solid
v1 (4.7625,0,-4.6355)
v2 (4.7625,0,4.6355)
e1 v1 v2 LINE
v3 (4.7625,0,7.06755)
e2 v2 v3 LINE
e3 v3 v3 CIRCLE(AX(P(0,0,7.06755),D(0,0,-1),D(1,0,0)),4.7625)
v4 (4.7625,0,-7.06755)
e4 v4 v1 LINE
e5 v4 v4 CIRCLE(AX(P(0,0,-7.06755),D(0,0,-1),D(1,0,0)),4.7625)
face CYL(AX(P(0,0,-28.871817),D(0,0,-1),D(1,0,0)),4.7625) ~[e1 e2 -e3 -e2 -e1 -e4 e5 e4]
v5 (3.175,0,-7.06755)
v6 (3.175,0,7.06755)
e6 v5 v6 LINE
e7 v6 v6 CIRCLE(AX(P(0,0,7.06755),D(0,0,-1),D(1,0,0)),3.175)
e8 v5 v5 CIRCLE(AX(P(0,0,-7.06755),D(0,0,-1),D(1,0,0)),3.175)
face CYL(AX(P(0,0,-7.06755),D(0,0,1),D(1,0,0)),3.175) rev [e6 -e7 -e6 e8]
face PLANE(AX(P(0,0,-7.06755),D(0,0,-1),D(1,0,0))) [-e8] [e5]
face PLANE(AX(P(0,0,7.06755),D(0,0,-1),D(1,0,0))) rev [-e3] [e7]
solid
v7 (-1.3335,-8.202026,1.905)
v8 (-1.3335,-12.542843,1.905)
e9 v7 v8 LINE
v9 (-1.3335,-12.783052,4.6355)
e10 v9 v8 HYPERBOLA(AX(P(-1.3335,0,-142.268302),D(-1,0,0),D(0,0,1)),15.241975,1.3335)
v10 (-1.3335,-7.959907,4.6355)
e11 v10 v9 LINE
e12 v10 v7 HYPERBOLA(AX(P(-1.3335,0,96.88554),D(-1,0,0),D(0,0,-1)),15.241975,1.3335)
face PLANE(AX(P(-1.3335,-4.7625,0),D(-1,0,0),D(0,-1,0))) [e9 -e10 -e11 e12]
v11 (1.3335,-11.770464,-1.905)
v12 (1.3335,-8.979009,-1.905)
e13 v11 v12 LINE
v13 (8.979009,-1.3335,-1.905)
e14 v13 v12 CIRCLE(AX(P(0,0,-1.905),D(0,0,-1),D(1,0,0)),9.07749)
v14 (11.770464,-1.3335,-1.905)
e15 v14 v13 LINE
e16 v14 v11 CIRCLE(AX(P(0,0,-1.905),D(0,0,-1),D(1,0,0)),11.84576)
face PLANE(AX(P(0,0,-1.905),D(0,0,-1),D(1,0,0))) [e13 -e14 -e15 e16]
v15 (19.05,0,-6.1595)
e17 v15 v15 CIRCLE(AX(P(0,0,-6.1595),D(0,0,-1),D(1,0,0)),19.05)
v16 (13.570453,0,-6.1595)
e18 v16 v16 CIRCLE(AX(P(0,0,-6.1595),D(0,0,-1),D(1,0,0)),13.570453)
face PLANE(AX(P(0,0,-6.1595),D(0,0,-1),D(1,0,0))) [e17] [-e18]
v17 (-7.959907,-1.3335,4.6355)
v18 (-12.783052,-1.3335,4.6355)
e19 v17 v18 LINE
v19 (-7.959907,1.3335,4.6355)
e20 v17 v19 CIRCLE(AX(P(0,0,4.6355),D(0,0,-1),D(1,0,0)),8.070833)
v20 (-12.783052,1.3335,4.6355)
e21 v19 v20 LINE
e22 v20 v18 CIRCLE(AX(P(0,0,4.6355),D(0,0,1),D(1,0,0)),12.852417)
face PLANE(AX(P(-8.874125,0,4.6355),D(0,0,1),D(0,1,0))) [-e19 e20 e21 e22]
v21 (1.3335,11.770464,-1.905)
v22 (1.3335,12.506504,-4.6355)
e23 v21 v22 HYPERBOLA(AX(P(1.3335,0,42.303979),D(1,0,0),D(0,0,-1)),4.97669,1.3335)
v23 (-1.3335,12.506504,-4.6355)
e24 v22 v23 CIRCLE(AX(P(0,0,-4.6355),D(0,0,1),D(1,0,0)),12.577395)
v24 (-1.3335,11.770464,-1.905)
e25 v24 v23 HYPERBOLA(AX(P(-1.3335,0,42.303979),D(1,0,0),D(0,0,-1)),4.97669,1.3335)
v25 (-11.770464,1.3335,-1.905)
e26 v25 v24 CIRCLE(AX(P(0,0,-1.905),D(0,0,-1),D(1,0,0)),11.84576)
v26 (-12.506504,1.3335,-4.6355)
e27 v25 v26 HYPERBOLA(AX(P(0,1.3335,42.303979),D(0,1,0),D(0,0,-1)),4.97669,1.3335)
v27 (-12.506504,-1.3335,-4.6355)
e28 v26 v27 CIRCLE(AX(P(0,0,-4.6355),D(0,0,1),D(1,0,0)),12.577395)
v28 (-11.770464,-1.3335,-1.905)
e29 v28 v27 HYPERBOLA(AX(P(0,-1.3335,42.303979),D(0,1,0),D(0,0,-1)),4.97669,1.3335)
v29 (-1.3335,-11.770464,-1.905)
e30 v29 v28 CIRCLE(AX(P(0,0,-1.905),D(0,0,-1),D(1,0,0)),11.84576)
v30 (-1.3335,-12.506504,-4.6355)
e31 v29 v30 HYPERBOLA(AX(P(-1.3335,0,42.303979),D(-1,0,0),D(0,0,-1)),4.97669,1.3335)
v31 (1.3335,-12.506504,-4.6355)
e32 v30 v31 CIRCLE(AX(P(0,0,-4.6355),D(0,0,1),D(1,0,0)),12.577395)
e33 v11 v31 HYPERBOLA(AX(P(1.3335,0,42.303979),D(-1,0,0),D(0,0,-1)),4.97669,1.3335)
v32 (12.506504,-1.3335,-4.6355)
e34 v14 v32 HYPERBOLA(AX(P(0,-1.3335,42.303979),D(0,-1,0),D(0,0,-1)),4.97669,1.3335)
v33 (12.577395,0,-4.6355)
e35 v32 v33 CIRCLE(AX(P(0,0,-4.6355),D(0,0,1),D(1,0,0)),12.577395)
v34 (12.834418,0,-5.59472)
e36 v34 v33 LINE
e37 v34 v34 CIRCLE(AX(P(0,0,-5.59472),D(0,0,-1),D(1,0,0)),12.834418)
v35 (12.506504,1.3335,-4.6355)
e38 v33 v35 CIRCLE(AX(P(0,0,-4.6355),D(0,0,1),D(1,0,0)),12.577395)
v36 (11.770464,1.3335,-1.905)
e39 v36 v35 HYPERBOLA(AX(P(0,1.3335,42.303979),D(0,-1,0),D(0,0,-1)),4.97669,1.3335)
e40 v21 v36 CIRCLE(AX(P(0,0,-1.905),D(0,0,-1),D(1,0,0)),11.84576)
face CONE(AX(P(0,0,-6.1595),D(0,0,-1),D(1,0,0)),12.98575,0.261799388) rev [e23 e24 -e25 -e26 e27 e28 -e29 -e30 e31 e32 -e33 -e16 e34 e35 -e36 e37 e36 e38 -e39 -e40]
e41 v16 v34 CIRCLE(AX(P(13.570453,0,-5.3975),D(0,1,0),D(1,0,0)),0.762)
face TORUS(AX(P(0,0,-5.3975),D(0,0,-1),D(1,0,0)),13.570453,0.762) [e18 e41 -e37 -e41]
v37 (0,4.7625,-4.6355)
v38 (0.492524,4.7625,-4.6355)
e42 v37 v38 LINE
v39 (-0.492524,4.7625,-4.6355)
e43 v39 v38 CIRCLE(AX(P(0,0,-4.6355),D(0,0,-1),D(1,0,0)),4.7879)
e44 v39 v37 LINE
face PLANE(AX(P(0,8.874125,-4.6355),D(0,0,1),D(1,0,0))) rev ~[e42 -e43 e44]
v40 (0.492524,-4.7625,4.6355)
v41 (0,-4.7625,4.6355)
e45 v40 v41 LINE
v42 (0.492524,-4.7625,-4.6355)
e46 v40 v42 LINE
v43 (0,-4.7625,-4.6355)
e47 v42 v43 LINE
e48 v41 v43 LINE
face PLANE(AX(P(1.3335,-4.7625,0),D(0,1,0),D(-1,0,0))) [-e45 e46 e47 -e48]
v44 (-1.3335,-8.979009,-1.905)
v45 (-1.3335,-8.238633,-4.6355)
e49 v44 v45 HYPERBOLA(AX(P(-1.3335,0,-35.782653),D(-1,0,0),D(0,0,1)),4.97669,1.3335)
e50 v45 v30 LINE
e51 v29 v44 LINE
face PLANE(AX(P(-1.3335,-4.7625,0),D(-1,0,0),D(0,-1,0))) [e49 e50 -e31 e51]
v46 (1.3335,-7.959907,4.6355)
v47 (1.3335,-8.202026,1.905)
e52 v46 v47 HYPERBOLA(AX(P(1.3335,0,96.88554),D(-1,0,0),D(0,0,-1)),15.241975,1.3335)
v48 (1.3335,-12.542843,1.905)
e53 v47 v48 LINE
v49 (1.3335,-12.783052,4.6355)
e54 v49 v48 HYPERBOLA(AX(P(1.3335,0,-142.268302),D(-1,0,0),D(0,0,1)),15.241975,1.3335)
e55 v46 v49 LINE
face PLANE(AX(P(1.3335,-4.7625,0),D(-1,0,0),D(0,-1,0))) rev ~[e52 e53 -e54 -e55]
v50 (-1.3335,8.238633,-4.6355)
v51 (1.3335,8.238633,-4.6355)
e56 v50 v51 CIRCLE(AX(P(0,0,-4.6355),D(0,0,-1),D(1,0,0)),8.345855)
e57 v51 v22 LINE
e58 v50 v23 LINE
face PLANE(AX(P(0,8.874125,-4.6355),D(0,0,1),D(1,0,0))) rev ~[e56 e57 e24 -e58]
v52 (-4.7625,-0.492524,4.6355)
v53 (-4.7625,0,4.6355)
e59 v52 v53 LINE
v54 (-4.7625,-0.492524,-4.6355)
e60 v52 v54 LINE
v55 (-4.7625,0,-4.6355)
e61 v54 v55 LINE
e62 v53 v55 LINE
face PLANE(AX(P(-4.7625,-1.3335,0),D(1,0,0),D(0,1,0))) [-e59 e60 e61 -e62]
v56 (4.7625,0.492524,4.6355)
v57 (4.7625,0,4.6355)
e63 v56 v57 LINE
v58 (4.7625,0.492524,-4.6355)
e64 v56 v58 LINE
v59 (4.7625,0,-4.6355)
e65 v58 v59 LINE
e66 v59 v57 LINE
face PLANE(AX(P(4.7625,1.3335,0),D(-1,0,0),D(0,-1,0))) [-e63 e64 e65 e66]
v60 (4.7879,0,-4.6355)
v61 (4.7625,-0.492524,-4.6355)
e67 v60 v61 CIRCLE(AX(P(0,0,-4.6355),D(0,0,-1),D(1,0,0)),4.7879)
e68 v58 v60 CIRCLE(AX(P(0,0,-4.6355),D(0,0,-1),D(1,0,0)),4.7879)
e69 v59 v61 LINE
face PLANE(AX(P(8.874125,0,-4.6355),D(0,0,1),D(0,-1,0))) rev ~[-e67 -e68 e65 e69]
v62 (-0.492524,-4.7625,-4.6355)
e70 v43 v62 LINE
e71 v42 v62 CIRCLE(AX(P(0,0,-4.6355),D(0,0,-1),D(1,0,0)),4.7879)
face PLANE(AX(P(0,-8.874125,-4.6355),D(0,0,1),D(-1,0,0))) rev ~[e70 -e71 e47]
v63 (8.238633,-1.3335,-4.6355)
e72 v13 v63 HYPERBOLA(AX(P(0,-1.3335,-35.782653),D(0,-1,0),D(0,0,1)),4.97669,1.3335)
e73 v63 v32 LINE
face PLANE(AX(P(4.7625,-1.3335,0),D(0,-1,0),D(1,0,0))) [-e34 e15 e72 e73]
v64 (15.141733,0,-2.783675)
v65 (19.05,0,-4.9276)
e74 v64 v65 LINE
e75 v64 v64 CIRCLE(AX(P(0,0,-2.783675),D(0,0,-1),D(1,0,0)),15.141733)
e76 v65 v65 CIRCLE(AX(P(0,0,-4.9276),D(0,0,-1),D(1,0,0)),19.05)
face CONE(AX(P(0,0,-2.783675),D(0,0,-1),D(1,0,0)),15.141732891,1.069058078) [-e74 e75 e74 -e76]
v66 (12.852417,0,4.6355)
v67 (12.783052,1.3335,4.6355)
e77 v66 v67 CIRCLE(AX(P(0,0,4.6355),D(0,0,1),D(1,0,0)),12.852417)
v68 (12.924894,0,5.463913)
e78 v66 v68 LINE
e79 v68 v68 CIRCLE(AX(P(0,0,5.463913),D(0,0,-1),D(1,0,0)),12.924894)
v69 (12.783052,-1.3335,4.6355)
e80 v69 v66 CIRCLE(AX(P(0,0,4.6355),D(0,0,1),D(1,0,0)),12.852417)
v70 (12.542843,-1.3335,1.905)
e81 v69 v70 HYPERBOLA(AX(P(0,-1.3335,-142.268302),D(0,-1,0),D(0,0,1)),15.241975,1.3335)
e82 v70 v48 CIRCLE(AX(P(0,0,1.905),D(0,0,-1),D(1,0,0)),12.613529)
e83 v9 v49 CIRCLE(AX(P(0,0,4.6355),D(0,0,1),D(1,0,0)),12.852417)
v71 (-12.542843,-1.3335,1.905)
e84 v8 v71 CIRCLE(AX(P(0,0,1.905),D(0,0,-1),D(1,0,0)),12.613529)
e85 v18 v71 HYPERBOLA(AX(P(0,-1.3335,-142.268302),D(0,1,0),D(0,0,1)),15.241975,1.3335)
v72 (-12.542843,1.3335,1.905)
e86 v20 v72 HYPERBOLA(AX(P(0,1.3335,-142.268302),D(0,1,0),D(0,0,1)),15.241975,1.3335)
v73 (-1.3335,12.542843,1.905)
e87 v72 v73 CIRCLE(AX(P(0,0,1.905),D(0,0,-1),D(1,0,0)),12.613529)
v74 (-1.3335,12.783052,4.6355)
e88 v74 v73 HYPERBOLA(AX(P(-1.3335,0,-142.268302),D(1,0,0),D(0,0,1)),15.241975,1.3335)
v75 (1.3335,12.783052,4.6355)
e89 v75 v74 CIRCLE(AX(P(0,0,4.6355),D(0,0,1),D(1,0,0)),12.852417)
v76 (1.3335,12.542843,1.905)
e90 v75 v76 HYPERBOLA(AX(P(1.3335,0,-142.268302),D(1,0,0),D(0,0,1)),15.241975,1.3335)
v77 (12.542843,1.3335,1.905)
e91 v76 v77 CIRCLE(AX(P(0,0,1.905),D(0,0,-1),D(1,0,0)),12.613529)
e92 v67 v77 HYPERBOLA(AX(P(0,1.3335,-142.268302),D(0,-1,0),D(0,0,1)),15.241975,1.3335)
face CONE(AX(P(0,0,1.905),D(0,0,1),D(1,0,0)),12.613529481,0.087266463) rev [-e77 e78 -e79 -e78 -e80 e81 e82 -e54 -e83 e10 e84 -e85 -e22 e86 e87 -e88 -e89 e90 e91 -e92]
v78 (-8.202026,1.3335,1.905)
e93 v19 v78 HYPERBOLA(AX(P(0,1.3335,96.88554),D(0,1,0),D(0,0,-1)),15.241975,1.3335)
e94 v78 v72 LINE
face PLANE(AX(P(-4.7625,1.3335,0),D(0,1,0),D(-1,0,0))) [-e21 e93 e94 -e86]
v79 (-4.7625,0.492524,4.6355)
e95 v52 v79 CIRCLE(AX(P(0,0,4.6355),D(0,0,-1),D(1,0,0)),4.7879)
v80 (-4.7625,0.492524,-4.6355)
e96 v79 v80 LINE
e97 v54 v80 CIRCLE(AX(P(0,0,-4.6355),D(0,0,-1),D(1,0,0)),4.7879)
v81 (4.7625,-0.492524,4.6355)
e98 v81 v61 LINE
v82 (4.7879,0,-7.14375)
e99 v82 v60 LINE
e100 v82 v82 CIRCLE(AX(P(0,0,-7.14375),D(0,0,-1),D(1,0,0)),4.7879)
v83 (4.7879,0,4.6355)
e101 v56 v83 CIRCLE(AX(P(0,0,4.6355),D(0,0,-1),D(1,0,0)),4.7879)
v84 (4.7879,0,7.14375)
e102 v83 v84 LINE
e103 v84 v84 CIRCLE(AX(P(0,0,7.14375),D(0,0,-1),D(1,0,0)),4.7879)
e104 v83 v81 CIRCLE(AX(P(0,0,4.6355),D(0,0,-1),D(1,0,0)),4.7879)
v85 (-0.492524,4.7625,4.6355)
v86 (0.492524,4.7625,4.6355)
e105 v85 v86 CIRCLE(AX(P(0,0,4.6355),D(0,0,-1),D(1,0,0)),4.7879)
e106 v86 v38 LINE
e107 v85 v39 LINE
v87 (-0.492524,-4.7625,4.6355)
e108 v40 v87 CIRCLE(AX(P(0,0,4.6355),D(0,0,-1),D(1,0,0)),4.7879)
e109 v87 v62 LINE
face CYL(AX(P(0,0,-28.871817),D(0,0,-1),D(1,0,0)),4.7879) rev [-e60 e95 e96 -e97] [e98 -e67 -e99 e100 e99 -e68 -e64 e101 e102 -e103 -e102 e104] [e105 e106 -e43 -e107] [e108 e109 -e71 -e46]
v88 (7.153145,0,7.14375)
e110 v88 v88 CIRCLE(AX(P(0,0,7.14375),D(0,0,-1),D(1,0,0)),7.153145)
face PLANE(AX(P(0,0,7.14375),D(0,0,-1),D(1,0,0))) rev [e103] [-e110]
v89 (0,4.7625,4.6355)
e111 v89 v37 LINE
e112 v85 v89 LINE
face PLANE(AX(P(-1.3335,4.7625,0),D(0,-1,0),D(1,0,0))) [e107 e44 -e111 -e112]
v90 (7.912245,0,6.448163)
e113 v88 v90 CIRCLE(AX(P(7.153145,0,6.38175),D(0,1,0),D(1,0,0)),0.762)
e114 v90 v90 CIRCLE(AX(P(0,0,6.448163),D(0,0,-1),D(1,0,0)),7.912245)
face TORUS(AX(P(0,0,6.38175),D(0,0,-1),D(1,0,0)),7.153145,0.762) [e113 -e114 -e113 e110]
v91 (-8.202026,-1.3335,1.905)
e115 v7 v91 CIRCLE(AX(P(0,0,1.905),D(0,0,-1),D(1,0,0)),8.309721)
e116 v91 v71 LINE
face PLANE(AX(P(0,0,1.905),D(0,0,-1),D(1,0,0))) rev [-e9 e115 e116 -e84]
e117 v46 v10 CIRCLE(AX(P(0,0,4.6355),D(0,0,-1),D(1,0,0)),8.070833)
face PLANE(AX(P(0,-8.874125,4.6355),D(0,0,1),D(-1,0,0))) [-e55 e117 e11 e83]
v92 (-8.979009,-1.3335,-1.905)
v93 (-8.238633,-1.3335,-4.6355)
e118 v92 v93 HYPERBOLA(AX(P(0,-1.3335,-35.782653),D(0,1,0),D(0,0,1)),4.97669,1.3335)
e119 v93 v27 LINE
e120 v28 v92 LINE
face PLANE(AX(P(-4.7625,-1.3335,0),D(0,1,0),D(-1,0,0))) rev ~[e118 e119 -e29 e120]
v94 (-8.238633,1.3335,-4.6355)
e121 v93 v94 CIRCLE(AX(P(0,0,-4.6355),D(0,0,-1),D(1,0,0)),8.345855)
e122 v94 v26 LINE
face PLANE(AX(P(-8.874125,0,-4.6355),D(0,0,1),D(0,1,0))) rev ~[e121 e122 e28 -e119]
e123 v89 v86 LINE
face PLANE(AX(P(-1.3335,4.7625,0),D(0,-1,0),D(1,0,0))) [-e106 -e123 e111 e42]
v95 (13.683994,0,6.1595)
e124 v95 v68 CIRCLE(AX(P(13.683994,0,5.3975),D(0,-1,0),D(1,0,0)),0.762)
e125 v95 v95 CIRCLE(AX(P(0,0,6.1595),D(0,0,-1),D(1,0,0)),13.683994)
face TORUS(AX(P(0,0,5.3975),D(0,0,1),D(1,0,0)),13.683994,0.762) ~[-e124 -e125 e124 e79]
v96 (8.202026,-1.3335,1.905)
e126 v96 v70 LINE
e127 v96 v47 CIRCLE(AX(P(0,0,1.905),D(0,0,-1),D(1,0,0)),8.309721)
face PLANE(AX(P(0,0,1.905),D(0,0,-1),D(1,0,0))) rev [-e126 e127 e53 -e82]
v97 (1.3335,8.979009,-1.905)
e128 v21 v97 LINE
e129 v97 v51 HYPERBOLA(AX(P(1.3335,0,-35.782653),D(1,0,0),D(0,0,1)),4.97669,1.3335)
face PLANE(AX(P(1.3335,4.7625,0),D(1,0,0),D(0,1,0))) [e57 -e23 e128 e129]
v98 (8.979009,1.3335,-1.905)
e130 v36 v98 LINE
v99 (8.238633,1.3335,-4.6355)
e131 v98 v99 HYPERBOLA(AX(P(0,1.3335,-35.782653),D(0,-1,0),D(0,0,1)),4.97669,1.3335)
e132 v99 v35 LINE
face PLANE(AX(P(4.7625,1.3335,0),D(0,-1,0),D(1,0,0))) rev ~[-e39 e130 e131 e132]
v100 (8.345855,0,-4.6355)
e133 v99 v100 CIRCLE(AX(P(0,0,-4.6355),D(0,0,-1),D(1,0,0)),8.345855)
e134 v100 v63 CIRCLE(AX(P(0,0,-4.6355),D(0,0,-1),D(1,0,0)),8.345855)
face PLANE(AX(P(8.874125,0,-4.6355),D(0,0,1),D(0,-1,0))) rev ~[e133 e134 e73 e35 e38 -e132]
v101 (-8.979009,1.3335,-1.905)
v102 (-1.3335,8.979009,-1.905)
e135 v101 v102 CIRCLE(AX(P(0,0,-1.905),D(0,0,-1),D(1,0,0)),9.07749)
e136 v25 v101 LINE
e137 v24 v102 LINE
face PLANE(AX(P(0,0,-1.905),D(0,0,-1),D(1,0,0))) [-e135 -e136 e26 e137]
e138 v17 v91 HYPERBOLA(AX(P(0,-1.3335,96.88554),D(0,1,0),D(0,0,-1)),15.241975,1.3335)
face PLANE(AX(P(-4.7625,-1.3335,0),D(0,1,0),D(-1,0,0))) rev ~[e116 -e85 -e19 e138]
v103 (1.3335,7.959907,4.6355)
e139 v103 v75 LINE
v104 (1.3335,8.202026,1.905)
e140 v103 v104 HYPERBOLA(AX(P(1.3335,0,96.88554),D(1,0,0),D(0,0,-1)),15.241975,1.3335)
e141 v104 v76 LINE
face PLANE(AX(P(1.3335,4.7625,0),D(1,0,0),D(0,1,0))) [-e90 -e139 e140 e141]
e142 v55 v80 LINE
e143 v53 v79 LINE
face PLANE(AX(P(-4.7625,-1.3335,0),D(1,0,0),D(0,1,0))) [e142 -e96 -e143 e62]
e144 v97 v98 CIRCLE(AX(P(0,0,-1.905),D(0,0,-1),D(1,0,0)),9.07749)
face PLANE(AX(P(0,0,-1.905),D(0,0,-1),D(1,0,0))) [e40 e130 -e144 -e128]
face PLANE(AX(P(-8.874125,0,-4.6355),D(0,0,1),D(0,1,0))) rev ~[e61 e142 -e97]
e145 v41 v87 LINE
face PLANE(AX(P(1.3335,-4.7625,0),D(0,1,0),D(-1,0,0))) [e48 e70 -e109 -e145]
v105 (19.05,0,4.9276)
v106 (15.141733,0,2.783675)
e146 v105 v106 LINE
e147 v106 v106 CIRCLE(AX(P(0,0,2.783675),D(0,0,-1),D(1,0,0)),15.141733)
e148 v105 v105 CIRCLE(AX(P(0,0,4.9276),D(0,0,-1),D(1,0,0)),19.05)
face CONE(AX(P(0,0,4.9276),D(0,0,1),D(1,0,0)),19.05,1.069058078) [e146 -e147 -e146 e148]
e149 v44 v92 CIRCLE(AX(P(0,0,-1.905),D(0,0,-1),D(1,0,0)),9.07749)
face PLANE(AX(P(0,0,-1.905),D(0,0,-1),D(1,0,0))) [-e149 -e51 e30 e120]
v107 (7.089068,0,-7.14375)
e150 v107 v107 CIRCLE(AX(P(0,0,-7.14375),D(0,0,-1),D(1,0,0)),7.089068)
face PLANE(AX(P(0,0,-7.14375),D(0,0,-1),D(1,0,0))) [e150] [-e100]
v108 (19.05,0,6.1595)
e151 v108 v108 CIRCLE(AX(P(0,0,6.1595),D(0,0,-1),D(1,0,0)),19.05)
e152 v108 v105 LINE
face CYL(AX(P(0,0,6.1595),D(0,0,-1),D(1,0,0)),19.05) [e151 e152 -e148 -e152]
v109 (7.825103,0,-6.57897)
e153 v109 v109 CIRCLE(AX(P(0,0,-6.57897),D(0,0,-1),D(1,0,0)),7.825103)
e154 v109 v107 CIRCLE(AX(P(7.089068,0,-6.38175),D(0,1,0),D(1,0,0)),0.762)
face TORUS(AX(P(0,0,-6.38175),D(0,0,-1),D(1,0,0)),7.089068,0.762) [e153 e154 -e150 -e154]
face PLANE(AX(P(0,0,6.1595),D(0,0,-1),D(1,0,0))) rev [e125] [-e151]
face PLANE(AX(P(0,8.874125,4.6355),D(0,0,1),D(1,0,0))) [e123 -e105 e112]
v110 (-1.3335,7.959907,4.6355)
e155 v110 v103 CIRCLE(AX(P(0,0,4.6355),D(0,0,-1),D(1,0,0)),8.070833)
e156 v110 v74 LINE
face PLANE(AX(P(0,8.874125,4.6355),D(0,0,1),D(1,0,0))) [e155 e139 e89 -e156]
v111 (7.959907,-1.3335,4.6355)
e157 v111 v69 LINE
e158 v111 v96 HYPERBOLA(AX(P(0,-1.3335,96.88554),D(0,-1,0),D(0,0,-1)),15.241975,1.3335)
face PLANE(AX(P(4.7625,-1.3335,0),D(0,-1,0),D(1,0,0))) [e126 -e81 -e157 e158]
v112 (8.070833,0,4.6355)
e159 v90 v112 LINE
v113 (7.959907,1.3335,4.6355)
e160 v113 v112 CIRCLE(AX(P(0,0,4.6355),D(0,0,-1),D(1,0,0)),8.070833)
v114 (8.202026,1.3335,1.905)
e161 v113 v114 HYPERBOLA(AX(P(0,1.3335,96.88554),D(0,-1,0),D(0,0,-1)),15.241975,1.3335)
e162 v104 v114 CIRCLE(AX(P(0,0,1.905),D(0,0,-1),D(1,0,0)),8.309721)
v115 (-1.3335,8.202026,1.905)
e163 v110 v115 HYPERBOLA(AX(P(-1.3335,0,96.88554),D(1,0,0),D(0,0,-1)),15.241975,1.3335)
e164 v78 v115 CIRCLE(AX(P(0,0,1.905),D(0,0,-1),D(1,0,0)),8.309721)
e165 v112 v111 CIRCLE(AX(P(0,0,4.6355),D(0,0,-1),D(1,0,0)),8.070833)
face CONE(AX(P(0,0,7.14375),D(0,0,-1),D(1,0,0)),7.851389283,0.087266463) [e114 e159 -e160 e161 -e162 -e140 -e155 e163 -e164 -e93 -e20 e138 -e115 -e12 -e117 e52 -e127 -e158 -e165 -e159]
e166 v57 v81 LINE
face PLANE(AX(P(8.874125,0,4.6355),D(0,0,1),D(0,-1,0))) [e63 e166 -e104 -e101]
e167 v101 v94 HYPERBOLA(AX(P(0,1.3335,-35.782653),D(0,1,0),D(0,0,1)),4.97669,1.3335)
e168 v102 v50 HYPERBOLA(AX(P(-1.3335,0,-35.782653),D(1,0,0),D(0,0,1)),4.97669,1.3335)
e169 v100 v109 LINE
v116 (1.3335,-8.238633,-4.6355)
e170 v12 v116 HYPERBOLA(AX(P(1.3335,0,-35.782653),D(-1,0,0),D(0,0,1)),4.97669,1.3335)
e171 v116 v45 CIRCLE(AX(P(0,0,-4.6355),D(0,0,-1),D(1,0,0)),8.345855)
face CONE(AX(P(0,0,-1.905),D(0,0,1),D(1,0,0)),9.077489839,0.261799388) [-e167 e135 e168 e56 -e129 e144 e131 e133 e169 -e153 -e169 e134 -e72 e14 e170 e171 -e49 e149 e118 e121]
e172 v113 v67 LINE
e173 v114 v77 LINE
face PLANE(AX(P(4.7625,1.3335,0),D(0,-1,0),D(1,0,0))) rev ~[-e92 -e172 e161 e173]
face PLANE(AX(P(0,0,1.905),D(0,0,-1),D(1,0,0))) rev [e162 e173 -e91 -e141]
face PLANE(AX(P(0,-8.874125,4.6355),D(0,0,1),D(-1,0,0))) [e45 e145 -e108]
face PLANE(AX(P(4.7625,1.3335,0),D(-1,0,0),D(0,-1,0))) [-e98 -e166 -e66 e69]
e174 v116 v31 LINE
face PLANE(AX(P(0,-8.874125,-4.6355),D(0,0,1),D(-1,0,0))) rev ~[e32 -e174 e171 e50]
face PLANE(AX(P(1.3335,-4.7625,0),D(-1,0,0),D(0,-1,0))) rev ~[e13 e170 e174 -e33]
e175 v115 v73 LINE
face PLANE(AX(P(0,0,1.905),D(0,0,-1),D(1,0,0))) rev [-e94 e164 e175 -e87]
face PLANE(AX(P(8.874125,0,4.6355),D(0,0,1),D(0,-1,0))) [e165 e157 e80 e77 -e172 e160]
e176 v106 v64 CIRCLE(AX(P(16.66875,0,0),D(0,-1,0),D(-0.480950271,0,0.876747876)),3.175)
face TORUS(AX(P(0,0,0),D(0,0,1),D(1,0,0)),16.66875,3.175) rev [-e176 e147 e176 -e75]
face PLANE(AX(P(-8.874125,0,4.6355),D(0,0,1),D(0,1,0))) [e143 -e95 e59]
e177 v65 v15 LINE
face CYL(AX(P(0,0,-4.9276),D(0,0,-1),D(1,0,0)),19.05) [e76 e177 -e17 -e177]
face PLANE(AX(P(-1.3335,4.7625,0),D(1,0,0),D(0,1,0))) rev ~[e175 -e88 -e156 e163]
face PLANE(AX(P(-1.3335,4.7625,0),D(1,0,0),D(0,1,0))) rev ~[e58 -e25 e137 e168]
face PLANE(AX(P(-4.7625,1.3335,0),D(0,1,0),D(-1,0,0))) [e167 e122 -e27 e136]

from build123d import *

# Parameters (mm, degrees)
CUT_EXTRUDE_THIN1_DEPTH      = 28.871816662
CUT_EXTRUDE_THIN1_DEPTH_BACK = 28.871816662
SKETCH2_R                    = 4.7879
SKETCH2_R_2                  = 4.7625
DRAFT1_ANGLE                 = 5
DRAFT2_ANGLE                 = 15
FILLET1_R                    = 0.762
SKETCH4_W                    = 2.667
SKETCH4_H                    = 8.22325
EXTRUDE_THIN1_DEPTH          = 4.6355
CIRPATTERN1_COUNT            = 4


with BuildPart() as part:
    # Sketch1 → Revolve1 (revolve)
    with BuildSketch(Plane(origin=(0, 0, 0), x_dir=(0, 0, -1), z_dir=(1, 0, 0)), mode=Mode.PRIVATE) as revolve1_sk:
        with BuildLine():
            Line((4.9276, 19.05), (6.1595, 19.05))
            Line((6.1595, 19.05), (6.1595, 12.98575))
            Line((6.1595, 12.98575), (1.905, 12.98575))
            Line((1.905, 12.98575), (1.905, 7.9375))
            Line((1.905, 7.9375), (7.14375, 7.9375))
            Line((7.14375, 7.9375), (7.14375, 4.7625))
            Line((7.14375, 4.7625), (7.06755, 4.7625))
            Line((7.06755, 4.7625), (7.06755, 3.175))
            Line((7.06755, 3.175), (-7.06755, 3.175))
            Line((-7.06755, 3.175), (-7.06755, 4.7625))
            Line((-7.06755, 4.7625), (-7.14375, 4.7625))
            Line((-7.14375, 4.7625), (-7.14375, 7.9375))
            Line((-7.14375, 7.9375), (-1.905, 7.9375))
            Line((-1.905, 7.9375), (-1.905, 12.98575))
            Line((-1.905, 12.98575), (-6.1595, 12.98575))
            Line((-6.1595, 12.98575), (-6.1595, 19.05))
            Line((-6.1595, 19.05), (-4.9276, 19.05))
            Line((-4.9276, 19.05), (-2.783674505, 15.141732891))
            ThreePointArc((-2.783674505, 15.141732891), (0, 13.49375), (2.783674505, 15.141732891))
            Line((2.783674505, 15.141732891), (4.9276, 19.05))
        make_face()
    revolve(revolve1_sk.sketch.rotate(Axis((0, 0, 7.14375), (0, 0, -1)), 90), axis=Axis((0, 0, 7.14375), (0, 0, -1)))

    # Sketch2 → Cut-Extrude-Thin1 (cut, two sides: drawn at the far end of the back side and taken through both)
    with BuildSketch(Plane.XY.offset(-CUT_EXTRUDE_THIN1_DEPTH_BACK)):
        Circle(SKETCH2_R)
        Circle(SKETCH2_R_2, mode=Mode.SUBTRACT)
    extrude(amount=CUT_EXTRUDE_THIN1_DEPTH + CUT_EXTRUDE_THIN1_DEPTH_BACK, mode=Mode.SUBTRACT)


with BuildPart() as cut_extrude_thin1_piece_1:
    # of the separate pieces the step leaves, piece 1, a body of its own (cut_extrude_thin1_pieces)
    add(part.part.solids().sort_by_distance((15.141732891, 0, -2.783674505))[0])

    # Draft1
    draft1_faces = [cut_extrude_thin1_piece_1.faces().sort_by_distance(p)[0] for p in [
        (-7.9375, 0, 4.524375),
        (-12.98575, 0, 4.03225),
    ]]
    draft(draft1_faces, Plane(origin=(0, 12.98575, 6.1595), x_dir=(1, 0, 0), z_dir=(0, 0, 1)), DRAFT1_ANGLE)

    # Draft2
    draft2_faces = [cut_extrude_thin1_piece_1.faces().sort_by_distance(p)[0] for p in [
        (-7.9375, 0, -4.524375),
        (-12.98575, 0, -4.03225),
    ]]
    draft(draft2_faces, Plane(origin=(0, 19.05, -6.1595), x_dir=(-1, 0, 0), z_dir=(0, 0, -1)), DRAFT2_ANGLE)

    # Fillet1
    fillet1_edges = [cut_extrude_thin1_piece_1.edges().sort_by_distance(p)[0] for p in [
        (-12.98575, 0, 6.1595),
        (-7.851389283, 0, 7.14375),
        (-7.673771007, 0, -7.14375),
        (-12.98575, 0, -6.1595),
    ]]
    fillet(fillet1_edges, radius=FILLET1_R)



with BuildPart() as cut_extrude_thin1_piece_2:
    # of the separate pieces the step leaves, piece 2, a body of its own (cut_extrude_thin1_pieces)
    add(part.part.solids().sort_by_distance((4.7625, 0, -7.06755))[0])


with BuildPart() as cut_extrude_thin1_piece_1_1:
    add(cut_extrude_thin1_piece_1.part)

    add(cut_extrude_thin1_piece_2.part)  # Extrude-Thin1 merges Cut-Extrude-Thin1 piece 2
    # Sketch4 → Extrude-Thin1 (add, symmetric)
    with BuildSketch(Plane.XY):
        with Locations((0, 8.874125)):
            Rectangle(SKETCH4_W, SKETCH4_H)
    extrude_thin1 = extrude(amount=EXTRUDE_THIN1_DEPTH, both=True)

    # CirPattern1: Extrude-Thin1 ×4 about axis
    cirpattern1_axis = Axis((0, 0, 0), (0, 0, 1))
    for i in range(1, CIRPATTERN1_COUNT):
        add(extrude_thin1.rotate(cirpattern1_axis, i * 360 / CIRPATTERN1_COUNT))


solid = cut_extrude_thin1_piece_1_1.part
